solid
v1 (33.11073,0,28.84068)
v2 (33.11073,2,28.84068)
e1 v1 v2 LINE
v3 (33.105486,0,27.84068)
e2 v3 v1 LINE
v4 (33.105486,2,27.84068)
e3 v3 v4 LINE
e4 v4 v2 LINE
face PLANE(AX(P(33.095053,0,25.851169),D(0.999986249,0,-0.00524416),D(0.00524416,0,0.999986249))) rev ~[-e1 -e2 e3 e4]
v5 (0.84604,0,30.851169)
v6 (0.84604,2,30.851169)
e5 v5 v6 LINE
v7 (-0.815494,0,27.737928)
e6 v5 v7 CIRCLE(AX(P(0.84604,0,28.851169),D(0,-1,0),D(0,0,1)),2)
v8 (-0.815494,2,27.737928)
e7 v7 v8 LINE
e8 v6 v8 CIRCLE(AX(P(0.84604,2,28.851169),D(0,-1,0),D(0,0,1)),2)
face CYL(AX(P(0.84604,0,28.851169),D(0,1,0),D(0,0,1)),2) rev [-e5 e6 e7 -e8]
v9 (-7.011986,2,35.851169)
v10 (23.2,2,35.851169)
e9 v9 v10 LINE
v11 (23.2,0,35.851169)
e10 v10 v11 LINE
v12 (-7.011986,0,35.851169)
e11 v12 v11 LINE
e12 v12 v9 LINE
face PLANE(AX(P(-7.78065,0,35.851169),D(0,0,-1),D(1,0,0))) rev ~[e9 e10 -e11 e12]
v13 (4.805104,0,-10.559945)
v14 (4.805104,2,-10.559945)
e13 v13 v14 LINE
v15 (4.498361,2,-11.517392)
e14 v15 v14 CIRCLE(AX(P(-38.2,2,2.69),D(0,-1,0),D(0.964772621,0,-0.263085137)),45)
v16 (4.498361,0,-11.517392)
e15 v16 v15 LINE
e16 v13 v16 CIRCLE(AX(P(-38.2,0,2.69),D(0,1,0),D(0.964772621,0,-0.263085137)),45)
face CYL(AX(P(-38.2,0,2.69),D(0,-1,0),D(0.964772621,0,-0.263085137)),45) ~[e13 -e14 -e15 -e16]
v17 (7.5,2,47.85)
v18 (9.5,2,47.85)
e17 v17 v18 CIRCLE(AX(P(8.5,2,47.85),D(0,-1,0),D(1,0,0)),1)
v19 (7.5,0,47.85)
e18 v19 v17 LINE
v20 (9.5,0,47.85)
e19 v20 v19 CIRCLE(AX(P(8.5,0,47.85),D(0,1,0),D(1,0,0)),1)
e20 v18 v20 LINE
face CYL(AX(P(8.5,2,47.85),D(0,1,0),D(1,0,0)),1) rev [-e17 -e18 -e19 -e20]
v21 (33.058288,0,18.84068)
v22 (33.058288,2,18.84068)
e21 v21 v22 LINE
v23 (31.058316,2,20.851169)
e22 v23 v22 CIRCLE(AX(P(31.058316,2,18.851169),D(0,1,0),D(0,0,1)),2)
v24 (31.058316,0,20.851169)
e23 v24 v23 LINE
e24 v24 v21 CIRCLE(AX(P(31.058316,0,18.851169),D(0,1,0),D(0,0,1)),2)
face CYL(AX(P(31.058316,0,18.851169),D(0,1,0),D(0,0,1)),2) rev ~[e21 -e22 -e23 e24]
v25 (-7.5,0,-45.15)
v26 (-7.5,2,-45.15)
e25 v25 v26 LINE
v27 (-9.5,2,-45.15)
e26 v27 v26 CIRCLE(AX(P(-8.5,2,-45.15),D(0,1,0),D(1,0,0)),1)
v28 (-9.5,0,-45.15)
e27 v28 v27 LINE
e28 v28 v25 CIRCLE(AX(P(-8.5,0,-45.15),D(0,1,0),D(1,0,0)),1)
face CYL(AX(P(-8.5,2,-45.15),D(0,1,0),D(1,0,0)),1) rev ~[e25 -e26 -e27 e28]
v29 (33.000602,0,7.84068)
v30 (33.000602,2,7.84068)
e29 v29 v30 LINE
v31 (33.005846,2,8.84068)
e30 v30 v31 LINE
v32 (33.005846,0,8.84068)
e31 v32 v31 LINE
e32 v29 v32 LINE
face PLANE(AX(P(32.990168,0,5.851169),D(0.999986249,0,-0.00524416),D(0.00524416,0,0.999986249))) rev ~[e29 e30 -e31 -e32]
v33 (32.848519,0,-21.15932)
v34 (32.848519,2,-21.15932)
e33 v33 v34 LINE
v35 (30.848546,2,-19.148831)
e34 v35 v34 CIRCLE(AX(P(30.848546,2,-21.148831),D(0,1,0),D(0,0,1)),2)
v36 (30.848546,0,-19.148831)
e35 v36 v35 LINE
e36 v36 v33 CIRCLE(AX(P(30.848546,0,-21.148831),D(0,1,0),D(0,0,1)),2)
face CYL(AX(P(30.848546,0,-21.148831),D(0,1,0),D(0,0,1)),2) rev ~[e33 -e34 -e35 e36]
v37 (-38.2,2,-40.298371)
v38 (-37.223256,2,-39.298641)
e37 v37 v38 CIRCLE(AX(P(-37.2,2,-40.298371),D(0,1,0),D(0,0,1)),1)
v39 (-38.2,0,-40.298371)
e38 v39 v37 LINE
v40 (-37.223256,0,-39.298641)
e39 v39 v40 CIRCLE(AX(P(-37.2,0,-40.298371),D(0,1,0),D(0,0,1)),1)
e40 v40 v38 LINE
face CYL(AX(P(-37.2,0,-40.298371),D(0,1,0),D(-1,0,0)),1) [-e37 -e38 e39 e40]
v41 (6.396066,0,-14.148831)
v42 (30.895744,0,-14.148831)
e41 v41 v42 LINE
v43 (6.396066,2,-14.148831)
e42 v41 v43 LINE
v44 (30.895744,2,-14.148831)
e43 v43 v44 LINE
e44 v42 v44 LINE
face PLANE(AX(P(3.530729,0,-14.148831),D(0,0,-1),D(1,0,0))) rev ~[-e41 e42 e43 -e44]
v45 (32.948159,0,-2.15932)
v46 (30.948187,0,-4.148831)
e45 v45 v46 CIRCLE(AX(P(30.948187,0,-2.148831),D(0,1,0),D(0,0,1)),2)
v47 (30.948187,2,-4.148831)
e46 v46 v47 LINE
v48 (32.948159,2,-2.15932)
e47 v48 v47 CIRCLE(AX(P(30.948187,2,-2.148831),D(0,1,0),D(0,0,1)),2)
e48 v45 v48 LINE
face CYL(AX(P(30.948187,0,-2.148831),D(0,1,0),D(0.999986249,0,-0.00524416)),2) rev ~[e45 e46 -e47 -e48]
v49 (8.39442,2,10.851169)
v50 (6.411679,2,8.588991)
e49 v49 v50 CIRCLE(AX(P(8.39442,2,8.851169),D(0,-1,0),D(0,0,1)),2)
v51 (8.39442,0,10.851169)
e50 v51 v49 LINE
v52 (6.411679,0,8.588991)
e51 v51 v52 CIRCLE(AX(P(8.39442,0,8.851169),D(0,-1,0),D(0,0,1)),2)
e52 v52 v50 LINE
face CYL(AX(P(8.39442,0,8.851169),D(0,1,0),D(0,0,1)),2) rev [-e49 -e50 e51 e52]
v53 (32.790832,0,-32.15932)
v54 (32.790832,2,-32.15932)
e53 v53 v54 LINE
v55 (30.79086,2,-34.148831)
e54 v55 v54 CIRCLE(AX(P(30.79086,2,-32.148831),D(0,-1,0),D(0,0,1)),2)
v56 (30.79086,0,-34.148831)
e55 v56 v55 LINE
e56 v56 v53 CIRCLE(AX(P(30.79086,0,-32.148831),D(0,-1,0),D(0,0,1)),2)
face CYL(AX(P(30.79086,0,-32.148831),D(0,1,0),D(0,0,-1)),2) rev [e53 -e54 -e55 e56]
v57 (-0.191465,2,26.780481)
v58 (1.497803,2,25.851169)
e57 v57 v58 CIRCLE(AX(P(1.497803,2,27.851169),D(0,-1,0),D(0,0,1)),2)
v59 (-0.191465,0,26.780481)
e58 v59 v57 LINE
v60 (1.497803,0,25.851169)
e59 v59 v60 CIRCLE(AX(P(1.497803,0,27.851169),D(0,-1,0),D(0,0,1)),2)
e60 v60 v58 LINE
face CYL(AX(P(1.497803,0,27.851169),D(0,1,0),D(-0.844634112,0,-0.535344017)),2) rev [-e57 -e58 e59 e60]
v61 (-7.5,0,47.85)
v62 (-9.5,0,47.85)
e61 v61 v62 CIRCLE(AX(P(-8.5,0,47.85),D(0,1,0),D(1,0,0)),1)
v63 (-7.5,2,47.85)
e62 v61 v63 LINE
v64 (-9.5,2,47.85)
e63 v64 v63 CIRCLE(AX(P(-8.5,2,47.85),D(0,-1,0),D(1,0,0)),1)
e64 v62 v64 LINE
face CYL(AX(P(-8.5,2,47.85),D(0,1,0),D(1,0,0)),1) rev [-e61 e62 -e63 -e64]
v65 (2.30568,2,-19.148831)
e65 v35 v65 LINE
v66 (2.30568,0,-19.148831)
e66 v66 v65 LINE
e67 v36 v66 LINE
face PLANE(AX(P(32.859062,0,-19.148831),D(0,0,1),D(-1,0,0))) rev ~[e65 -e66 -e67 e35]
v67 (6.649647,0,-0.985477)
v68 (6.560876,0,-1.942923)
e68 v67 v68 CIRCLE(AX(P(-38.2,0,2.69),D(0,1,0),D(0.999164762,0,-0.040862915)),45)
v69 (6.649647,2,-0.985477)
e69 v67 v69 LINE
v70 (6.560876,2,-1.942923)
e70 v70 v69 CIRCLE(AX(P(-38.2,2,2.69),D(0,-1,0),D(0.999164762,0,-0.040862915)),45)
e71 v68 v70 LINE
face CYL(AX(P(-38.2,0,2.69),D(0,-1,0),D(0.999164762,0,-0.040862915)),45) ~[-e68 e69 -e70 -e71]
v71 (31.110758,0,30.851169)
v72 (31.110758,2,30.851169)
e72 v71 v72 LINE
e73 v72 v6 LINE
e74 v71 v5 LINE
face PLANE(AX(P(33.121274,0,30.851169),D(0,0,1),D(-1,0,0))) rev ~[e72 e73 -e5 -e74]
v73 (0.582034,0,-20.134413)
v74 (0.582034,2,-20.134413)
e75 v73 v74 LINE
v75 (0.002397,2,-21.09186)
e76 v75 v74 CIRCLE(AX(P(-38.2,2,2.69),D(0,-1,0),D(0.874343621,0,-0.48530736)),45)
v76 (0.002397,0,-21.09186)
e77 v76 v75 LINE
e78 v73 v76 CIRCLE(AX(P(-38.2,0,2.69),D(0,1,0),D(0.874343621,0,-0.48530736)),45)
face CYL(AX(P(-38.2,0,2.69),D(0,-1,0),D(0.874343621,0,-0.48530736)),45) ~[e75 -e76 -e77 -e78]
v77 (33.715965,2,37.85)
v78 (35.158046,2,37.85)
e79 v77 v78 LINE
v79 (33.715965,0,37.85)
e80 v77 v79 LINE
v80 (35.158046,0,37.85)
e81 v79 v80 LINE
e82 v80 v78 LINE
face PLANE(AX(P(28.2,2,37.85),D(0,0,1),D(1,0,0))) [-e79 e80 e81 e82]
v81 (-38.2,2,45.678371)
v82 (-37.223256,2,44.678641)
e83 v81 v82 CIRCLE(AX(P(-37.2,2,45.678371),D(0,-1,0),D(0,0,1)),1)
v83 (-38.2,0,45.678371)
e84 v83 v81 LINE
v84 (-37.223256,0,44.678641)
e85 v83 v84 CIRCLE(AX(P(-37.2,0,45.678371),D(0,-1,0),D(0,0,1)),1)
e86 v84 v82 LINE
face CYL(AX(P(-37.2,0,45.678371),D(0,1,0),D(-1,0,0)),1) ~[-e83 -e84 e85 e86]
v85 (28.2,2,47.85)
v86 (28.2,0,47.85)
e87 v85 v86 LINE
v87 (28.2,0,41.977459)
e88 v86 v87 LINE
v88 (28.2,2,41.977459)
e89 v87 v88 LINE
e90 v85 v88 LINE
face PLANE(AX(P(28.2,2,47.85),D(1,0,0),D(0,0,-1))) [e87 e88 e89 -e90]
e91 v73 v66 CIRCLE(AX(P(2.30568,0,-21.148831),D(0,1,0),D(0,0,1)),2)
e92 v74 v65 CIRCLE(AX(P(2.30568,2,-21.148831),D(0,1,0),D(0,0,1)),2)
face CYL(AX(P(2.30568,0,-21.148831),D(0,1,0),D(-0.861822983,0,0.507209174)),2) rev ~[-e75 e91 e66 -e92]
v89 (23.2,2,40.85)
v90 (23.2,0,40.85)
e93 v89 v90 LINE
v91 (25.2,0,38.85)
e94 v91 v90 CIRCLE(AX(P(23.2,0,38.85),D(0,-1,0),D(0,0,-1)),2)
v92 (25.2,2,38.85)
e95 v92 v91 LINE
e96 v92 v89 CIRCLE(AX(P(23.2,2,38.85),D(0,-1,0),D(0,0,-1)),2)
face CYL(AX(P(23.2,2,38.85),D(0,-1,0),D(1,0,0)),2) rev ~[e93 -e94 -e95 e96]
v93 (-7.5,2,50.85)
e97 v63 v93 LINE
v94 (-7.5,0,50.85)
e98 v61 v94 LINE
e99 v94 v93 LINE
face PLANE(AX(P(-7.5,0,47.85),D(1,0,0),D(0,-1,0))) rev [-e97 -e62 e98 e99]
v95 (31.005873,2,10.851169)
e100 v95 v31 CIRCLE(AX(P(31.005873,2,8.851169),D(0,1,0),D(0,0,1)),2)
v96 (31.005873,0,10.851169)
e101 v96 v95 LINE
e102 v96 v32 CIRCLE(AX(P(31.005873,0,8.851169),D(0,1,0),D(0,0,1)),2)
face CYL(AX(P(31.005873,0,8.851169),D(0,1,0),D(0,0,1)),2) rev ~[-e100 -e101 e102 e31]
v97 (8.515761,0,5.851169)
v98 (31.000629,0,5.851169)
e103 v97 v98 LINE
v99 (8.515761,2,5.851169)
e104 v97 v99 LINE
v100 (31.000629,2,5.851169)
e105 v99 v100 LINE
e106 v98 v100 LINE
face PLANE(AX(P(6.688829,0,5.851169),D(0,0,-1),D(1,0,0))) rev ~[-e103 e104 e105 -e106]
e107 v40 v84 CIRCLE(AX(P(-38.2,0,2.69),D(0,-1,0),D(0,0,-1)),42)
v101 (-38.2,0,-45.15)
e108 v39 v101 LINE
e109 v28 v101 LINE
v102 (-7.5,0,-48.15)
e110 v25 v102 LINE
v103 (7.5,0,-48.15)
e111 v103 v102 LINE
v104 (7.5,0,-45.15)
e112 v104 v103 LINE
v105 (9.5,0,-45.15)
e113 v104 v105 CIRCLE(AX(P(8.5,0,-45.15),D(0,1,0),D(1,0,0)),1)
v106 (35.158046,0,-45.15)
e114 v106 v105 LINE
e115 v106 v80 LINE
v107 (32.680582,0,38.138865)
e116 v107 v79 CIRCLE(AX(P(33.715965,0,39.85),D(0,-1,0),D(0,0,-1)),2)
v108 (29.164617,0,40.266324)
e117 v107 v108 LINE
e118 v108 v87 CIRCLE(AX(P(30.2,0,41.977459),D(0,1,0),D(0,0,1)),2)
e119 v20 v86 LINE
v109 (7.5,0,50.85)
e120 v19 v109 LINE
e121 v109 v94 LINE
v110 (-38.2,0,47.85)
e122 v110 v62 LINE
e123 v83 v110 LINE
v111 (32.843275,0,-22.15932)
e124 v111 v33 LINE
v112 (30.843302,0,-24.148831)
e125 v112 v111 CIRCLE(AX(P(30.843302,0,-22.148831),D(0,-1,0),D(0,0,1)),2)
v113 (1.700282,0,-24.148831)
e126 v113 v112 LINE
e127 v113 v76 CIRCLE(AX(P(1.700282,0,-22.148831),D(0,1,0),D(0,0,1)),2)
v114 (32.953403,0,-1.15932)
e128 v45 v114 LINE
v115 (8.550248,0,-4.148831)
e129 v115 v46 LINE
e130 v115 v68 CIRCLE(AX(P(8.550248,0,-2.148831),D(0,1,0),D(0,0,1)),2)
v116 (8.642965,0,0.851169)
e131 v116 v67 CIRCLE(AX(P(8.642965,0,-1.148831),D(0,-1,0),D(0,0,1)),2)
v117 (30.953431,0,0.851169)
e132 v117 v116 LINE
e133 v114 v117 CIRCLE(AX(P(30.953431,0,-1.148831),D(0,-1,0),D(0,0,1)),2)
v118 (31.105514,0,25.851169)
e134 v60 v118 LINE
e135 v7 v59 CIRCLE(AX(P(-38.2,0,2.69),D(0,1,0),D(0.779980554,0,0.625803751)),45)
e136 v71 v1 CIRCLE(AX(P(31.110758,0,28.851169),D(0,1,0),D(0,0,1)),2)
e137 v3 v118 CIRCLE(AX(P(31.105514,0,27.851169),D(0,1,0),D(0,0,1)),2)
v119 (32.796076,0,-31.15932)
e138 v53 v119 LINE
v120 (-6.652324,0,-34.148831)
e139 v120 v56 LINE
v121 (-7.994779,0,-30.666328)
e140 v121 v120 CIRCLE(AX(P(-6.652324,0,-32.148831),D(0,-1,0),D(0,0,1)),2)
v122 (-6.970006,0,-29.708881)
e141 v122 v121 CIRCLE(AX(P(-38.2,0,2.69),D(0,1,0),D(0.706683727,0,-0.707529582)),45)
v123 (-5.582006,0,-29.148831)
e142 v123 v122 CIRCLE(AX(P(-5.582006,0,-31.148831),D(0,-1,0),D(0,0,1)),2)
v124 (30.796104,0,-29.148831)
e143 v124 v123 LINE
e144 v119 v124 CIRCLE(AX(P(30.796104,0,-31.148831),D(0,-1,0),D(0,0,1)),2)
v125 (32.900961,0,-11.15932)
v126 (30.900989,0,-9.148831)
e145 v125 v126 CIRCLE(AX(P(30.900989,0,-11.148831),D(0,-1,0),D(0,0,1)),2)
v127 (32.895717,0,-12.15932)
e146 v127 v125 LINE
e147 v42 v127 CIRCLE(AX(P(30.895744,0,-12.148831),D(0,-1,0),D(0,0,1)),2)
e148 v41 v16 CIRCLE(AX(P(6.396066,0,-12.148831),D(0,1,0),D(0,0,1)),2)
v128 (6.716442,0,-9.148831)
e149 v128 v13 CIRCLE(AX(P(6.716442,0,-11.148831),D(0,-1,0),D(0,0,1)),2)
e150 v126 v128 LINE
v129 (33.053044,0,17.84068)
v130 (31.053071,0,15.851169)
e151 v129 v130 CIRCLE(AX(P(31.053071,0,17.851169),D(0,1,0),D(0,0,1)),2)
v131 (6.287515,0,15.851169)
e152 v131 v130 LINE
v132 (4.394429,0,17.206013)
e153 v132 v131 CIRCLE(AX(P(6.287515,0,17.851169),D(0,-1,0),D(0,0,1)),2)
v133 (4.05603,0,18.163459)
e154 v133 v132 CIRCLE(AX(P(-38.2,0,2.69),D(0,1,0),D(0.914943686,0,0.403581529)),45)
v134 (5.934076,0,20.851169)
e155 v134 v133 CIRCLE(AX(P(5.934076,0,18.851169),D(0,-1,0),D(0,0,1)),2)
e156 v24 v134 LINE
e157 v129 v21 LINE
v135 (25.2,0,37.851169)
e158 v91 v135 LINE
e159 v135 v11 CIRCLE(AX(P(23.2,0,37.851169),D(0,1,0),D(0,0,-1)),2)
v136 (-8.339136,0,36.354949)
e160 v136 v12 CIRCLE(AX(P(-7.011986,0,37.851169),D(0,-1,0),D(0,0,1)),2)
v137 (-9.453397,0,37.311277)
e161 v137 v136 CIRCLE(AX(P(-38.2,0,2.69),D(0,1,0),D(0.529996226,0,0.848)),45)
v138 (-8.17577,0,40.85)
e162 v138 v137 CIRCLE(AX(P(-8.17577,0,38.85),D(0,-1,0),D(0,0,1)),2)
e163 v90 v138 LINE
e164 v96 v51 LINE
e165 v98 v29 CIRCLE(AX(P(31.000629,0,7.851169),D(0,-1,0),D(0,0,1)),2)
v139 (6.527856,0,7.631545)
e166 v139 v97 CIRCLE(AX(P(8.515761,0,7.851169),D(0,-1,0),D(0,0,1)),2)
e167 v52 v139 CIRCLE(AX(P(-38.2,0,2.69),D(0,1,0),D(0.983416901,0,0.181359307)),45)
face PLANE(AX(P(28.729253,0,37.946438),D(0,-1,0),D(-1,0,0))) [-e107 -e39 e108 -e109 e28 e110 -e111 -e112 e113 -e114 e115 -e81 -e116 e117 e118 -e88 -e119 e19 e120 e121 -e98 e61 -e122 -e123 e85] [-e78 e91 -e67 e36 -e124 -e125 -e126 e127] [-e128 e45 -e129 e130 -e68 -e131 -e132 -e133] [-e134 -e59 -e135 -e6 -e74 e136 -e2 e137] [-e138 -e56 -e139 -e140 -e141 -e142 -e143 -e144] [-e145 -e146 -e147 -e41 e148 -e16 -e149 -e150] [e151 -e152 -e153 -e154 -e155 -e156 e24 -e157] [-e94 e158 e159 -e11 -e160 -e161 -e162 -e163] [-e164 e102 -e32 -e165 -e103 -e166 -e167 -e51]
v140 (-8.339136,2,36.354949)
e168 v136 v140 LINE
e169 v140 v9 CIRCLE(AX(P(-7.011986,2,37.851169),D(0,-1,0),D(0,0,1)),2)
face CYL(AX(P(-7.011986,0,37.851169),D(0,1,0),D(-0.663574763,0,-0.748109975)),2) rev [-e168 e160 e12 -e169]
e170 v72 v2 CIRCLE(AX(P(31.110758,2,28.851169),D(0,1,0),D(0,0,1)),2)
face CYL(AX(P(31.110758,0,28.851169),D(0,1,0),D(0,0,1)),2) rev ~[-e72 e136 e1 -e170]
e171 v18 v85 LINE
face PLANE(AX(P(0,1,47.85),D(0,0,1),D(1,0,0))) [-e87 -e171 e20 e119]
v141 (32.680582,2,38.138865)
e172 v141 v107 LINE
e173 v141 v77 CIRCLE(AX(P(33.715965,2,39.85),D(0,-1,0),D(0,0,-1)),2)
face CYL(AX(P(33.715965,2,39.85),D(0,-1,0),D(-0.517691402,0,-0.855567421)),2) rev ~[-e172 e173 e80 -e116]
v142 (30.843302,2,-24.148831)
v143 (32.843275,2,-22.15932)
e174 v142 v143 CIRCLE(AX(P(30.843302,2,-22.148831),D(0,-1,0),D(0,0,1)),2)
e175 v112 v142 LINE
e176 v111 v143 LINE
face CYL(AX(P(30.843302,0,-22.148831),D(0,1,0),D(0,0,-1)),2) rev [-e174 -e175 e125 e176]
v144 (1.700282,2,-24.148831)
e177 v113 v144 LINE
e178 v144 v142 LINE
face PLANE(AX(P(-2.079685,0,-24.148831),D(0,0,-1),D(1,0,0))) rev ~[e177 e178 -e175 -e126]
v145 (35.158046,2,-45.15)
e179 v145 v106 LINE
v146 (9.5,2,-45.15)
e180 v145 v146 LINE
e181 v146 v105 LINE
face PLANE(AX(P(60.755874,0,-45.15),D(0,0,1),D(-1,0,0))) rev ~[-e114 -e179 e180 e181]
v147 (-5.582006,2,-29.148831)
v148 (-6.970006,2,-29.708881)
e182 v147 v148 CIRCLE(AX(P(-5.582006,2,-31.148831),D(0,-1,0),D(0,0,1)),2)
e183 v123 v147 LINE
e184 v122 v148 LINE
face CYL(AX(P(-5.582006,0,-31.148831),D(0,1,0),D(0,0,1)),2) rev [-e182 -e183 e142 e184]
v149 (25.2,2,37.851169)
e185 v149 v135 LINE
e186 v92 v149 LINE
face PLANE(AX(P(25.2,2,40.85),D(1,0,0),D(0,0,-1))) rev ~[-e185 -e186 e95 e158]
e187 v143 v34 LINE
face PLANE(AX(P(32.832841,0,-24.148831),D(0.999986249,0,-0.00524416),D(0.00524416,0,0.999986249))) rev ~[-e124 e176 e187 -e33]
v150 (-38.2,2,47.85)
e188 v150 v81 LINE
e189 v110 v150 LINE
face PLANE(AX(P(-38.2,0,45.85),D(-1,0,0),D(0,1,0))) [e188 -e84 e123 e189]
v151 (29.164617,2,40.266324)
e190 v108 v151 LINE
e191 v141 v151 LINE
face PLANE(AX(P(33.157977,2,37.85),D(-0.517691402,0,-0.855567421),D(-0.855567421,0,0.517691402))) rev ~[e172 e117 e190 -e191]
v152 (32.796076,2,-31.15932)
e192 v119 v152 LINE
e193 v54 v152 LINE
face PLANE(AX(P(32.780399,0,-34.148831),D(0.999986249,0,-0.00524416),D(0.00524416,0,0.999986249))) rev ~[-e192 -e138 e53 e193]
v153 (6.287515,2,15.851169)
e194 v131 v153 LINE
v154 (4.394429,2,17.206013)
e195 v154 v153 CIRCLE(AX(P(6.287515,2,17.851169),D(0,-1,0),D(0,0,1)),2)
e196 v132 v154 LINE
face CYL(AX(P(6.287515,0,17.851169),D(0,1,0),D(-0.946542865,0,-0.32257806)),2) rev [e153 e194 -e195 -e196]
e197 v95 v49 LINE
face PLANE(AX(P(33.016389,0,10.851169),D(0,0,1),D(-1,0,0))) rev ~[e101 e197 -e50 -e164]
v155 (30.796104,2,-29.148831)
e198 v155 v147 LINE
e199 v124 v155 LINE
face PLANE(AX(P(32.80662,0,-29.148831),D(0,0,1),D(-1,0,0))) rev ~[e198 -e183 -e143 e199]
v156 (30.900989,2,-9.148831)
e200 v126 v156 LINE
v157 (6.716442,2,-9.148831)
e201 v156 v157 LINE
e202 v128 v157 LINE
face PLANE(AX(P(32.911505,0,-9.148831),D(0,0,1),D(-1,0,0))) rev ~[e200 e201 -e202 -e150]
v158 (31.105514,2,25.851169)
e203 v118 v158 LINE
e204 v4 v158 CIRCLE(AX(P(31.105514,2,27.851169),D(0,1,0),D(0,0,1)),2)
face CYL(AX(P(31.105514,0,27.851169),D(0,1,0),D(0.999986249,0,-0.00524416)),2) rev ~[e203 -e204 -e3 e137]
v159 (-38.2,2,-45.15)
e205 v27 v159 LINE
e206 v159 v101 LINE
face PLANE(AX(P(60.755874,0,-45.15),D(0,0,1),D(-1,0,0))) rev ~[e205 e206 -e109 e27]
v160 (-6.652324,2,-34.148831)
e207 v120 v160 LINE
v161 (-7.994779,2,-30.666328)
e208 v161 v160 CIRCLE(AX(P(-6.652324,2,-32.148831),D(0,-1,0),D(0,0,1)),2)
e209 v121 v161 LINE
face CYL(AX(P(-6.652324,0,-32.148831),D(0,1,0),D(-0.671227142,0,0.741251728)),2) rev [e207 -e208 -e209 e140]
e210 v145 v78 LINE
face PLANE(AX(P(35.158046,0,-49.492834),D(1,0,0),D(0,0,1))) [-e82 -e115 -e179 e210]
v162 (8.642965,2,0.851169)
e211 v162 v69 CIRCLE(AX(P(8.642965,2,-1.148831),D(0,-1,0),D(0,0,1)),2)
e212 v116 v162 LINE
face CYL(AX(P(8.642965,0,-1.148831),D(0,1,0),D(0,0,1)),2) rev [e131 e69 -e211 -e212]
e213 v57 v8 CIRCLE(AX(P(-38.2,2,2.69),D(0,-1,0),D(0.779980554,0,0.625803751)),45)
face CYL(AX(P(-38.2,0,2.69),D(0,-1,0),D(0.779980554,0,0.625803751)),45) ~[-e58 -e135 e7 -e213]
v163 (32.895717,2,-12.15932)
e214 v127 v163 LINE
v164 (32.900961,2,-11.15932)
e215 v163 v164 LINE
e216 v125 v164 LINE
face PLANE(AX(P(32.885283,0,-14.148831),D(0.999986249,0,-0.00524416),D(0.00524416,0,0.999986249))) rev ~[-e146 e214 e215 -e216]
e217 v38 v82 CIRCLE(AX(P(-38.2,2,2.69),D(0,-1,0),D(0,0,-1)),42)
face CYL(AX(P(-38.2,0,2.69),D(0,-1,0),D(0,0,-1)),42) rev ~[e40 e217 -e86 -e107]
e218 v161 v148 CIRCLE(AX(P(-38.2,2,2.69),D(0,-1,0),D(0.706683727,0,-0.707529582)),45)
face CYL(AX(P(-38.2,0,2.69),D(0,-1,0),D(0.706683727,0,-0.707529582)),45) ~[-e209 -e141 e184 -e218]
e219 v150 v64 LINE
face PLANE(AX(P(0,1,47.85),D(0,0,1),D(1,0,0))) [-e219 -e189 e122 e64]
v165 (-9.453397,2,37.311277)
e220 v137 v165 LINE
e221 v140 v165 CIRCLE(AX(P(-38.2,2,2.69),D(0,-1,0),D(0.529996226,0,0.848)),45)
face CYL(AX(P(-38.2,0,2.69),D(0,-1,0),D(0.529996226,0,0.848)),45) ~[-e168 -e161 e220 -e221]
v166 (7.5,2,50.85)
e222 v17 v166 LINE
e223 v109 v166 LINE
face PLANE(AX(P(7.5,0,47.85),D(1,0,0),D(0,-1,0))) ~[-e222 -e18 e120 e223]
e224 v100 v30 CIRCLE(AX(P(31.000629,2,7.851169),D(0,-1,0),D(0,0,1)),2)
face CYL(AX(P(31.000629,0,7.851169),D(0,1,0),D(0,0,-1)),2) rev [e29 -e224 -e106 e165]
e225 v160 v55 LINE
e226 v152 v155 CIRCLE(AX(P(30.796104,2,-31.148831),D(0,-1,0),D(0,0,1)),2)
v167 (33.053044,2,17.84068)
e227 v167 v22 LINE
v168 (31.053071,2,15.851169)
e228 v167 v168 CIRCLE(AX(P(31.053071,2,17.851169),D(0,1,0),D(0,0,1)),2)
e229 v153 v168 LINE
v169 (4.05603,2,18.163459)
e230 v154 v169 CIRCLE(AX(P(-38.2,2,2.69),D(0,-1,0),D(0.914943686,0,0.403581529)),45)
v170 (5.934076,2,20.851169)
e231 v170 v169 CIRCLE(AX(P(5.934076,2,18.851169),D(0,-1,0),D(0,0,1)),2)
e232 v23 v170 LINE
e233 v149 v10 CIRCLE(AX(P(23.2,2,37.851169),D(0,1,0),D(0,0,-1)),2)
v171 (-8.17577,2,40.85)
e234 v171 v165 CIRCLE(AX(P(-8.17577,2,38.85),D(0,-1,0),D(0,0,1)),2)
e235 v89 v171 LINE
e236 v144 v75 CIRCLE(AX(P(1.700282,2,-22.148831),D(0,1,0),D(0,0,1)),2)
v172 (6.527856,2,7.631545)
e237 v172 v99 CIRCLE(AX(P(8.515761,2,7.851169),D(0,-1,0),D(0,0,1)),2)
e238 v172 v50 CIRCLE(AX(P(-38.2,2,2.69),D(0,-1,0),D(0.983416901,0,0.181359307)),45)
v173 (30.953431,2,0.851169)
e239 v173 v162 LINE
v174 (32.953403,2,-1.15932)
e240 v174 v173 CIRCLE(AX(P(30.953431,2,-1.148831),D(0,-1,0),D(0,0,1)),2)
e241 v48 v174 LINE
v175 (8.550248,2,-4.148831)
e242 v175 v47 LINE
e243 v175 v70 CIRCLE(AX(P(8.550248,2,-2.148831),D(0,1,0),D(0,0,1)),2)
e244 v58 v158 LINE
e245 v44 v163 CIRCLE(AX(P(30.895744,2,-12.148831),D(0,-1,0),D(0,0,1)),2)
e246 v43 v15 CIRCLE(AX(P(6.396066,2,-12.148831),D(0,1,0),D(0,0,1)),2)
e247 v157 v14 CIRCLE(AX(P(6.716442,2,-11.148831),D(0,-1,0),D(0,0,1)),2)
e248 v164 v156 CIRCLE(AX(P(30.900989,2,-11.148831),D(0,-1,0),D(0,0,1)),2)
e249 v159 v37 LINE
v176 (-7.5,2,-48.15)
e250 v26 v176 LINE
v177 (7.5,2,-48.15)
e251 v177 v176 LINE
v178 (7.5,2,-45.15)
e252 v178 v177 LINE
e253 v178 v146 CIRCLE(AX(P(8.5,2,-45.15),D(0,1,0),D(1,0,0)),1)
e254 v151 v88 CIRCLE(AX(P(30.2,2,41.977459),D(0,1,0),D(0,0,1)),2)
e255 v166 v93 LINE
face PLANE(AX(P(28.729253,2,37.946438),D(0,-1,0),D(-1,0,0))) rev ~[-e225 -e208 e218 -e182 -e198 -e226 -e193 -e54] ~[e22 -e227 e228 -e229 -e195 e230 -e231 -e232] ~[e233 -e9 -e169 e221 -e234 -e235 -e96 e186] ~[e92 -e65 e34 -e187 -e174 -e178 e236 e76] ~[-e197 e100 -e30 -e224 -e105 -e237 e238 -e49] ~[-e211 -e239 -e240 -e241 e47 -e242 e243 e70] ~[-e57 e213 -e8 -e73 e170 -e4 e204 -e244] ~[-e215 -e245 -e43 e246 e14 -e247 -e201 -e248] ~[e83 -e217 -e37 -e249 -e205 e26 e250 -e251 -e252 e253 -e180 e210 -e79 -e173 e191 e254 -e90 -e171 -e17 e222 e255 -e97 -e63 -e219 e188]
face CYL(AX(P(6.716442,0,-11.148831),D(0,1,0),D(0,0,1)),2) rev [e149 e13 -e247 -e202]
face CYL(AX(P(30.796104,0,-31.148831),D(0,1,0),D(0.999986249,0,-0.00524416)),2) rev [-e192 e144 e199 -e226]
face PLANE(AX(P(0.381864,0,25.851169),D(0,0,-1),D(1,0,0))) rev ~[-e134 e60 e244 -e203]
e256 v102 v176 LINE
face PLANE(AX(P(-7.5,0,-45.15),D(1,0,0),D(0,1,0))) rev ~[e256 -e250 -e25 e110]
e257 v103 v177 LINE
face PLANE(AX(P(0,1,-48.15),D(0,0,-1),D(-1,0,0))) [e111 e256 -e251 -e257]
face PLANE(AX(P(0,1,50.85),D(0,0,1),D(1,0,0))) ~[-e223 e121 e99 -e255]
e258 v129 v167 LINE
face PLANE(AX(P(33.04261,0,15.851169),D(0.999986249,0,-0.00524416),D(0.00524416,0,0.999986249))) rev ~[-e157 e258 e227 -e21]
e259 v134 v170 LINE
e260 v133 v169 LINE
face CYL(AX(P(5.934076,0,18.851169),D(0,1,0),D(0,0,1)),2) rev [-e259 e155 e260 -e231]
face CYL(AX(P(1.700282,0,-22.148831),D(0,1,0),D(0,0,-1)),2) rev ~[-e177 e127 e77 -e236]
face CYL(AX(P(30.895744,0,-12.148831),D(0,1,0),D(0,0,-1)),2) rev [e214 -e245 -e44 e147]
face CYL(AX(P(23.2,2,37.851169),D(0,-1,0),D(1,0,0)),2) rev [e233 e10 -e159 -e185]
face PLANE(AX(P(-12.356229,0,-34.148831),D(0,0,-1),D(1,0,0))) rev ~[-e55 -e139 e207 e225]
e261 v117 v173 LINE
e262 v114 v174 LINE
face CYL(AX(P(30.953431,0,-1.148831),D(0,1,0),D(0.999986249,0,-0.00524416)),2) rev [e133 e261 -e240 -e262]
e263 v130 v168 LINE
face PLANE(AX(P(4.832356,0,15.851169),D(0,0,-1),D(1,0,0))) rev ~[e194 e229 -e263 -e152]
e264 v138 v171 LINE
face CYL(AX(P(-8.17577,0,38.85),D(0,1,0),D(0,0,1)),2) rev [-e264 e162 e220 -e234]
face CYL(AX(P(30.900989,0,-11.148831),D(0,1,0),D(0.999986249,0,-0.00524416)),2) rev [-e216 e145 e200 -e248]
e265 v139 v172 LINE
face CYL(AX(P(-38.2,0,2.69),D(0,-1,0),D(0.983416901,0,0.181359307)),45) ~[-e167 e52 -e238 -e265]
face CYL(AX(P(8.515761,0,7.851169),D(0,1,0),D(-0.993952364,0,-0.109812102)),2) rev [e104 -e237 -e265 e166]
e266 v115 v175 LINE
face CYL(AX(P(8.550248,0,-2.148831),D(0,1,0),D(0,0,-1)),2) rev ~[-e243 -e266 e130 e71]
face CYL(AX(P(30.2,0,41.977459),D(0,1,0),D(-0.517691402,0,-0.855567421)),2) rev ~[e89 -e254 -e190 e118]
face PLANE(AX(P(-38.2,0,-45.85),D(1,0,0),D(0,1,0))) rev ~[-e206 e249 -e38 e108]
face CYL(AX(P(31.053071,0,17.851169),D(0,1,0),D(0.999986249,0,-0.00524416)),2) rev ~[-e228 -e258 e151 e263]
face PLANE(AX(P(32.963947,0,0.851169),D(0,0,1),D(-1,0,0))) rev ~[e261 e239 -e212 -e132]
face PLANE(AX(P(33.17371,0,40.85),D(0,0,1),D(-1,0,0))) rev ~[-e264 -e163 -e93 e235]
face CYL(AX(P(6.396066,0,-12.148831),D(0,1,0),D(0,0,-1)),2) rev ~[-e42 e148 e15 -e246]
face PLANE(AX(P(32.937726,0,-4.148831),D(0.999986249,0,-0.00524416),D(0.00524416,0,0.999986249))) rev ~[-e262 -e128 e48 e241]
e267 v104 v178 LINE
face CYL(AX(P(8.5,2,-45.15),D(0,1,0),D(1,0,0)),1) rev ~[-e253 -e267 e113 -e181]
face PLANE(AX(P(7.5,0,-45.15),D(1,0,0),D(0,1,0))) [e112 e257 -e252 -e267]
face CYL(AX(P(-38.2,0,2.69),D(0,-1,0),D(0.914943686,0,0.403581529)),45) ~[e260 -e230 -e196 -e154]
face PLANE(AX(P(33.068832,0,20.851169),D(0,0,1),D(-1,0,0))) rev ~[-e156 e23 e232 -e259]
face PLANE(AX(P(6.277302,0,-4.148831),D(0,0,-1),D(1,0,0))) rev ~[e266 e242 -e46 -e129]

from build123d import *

# Parameters (mm, degrees)
EXTRUDE_1_DEPTH          = 2
SKETCH_3_W               = 76.4
SKETCH_3_H               = 2
EXTRUDE_2_DEPTH          = 7
CUT_EXTRUDE_1_DEPTH      = 10
EXTRUDE_4_DEPTH          = 2
PATTERN_LINEAR_2_COUNT   = 2
PATTERN_LINEAR_2_PITCH   = 32
FILLET_3_R               = 0.5
CUT_EXTRUDE_2_DEPTH      = 10
EXTRUDE_5_DEPTH          = 2
CUT_EXTRUDE_3_DEPTH      = 10
CUT_EXTRUDE_4_DEPTH      = 10
FILLET_5_R               = 2
EXTRUDE_9_DEPTH          = 2
FILLET_6_R               = 2
FILLET_7_R               = 1
SKETCH_18_W              = 76.4
SKETCH_18_H              = 2
EXTRUDE_6_DEPTH          = 2
SKETCH_19_W              = 10
SKETCH_19_H              = 10
CUT_EXTRUDE_5_DEPTH      = 3
EXTRUDE_8_DEPTH          = 2
FILLET_8_R               = 2
FILLET_9_R               = 2
SKETCH_21_W              = 3
SKETCH_21_H              = 87.342834434
CUT_EXTRUDE_6_DEPTH      = 3
CUT_EXTRUDE_7_DEPTH      = 1
CUT_EXTRUDE_7_DEPTH_BACK = 3
SKETCH_24_W              = 15
SKETCH_24_H              = 2
EXTRUDE_10_DEPTH         = 3
SKETCH_25_R              = 1
CUT_EXTRUDE_8_DEPTH      = 3


with BuildPart() as part:
    # 草图1 → 凸台-拉伸1 (new body)
    with BuildSketch(Plane(origin=(0, 0, 0), x_dir=(1, 0, 0), z_dir=(0, 1, 0))):
        with BuildLine():
            Line((-38.2, -44.69), (-38.2, -45.85))
            Line((-38.2, -45.85), (38.2, -45.85))
            Line((38.2, -45.85), (38.2, 45.85))
            Line((38.2, 45.85), (-38.2, 45.85))
            Line((-38.2, 45.85), (-38.2, 39.31))
            ThreePointArc((-38.2, 39.31), (3.8, -2.69), (-38.2, -44.69))
        make_face()
    extrude(amount=EXTRUDE_1_DEPTH)

    # 草图3 → 凸台-拉伸2 (add)
    with BuildSketch(Plane(origin=(0, 0, -45.85), x_dir=(-1, 0, 0), z_dir=(0, 0, -1))):
        with Locations((0, 1)):
            Rectangle(SKETCH_3_W, SKETCH_3_H)
    extrude(amount=EXTRUDE_2_DEPTH)

    # 草图5 → 切除-拉伸1 (cut)
    with BuildSketch(Plane(origin=(0, 2, 0), x_dir=(1, 0, 0), z_dir=(0, 1, 0))):
        Polygon((-38.2, 51.26), (38.2, 52.85), (-38.2, 52.85), align=None)
    extrude(amount=-CUT_EXTRUDE_1_DEPTH, mode=Mode.SUBTRACT)

    # 草图7 → 凸台-拉伸4 (add)
    with BuildSketch(Plane.XZ):
        Polygon((25.6, -52.587774869), (25.6, -54.754790576), (9.6, -54.754790576), (9.6, -52.254790576), align=None)
    extrude_4 = extrude(amount=-EXTRUDE_4_DEPTH)

    # 阵列(线性)2: 凸台-拉伸4 ×2
    with Locations(*[Vector(-0.999783511, 0, 0.020807013) * (i * PATTERN_LINEAR_2_PITCH) for i in range(1, PATTERN_LINEAR_2_COUNT)]):
        add(extrude_4)

    # 圆角3
    fillet_3_edges = [part.edges().sort_by_distance(p)[0] for p in [
        (25.6, 1, -54.754790576),
        (9.6, 1, -54.754790576),
        (-6.393072342, 1, -54.088966165),
        (-22.393072342, 1, -54.088966165),
    ]]
    fillet(fillet_3_edges, radius=FILLET_3_R)

    # 草图10 → 切除-拉伸2 (cut)
    with BuildSketch(Plane(origin=(0, 2, 0), x_dir=(1, 0, 0), z_dir=(0, 1, 0))):
        Polygon((-38.882265213, 53.905585721), (39.585789662, 55.538625083), (39.585789662, 48.538625083), (-38.2, 46.919784696), (-39.22769149, 52.889737929), align=None)
    extrude(amount=-CUT_EXTRUDE_2_DEPTH, mode=Mode.SUBTRACT)

    # 草图11 → 凸台-拉伸5 (add)
    with BuildSketch(Plane(origin=(0, 2, 0), x_dir=(1, 0, 0), z_dir=(0, 1, 0))):
        Polygon((-38.2, 46.919784696), (38.2, 49.509784696), (38.2, 48.509784696), align=None)
    extrude(amount=-EXTRUDE_5_DEPTH)

    # 草图13 → 切除-拉伸3 (cut)
    with BuildSketch(Plane.XZ):
        Polygon((38.2, -49.509784696), (37.7, -49.492834434), (38.2, 45.85), align=None)
    extrude(amount=-CUT_EXTRUDE_3_DEPTH, mode=Mode.SUBTRACT)

    # 草图16 → 切除-拉伸4 (cut)
    with BuildSketch(Plane.XZ):
        with BuildLine():
            ThreePointArc((-21.63159016, -39.14883119), (-26.948214114, -40.880601492), (-32.438562967, -41.939652064))
            Line((-32.438562967, -41.939652064), (32.727956442, -44.14883119))
            Line((32.727956442, -44.14883119), (32.754177605, -39.14883119))
            Line((32.754177605, -39.14883119), (-21.63159016, -39.14883119))
        make_face()
        with BuildLine():
            ThreePointArc((-6.399232266, -29.14883119), (-9.26951053, -31.777764346), (-12.35622867, -34.14883119))
            Line((-12.35622867, -34.14883119), (32.780398767, -34.14883119))
            Line((32.780398767, -34.14883119), (32.80661993, -29.14883119))
            Line((32.80661993, -29.14883119), (-6.399232266, -29.14883119))
        make_face()
        with BuildLine():
            ThreePointArc((1.145462918, -19.14883119), (-0.38438284, -21.702193399), (-2.079685213, -24.14883119))
            Line((-2.079685213, -24.14883119), (32.832841093, -24.14883119))
            Line((32.832841093, -24.14883119), (32.859062256, -19.14883119))
            Line((32.859062256, -19.14883119), (1.145462918, -19.14883119))
        make_face()
        with BuildLine():
            ThreePointArc((5.214767949, -9.14883119), (4.446089194, -11.673532869), (3.530729255, -14.14883119))
            Line((3.530729255, -14.14883119), (32.885283419, -14.14883119))
            Line((32.885283419, -14.14883119), (32.911504582, -9.14883119))
            Line((32.911504582, -9.14883119), (5.214767949, -9.14883119))
        make_face()
        with BuildLine():
            Line((32.937725745, -4.14883119), (32.963946908, 0.85116881))
            Line((32.963946908, 0.85116881), (6.762414302, 0.85116881))
            ThreePointArc((6.762414302, 0.85116881), (6.58968308, -1.65560578), (6.277301941, -4.14883119))
            Line((6.277301941, -4.14883119), (32.937725745, -4.14883119))
        make_face()
        with BuildLine():
            Line((33.016389234, 10.85116881), (6.053760559, 10.85116881))
            ThreePointArc((6.053760559, 10.85116881), (6.441352349, 8.360067057), (6.688829476, 5.85116881))
            Line((6.688829476, 5.85116881), (32.990168071, 5.85116881))
            Line((32.990168071, 5.85116881), (33.016389234, 10.85116881))
        make_face()
        with BuildLine():
            Line((33.06883156, 20.85116881), (2.97246589, 20.85116881))
            ThreePointArc((2.97246589, 20.85116881), (3.976569254, 18.378754125), (4.832355682, 15.85116881))
            Line((4.832355682, 15.85116881), (33.042610397, 15.85116881))
            Line((33.042610397, 15.85116881), (33.06883156, 20.85116881))
        make_face()
        with BuildLine():
            Line((33.121273886, 30.85116881), (-3.100875064, 30.85116881))
            ThreePointArc((-3.100875064, 30.85116881), (-1.274777634, 28.410185715), (0.381864384, 25.85116881))
            Line((0.381864384, 25.85116881), (33.095052723, 25.85116881))
            Line((33.095052723, 25.85116881), (33.121273886, 30.85116881))
        make_face()
        with BuildLine():
            Line((33.173710083, 40.85), (-14.350169812, 40.85))
            ThreePointArc((-14.350169812, 40.85), (-10.950539992, 38.501547429), (-7.780649528, 35.85116881))
            Line((-7.780649528, 35.85116881), (33.147495049, 35.85116881))
            Line((33.147495049, 35.85116881), (33.173710083, 40.85))
        make_face()
    extrude(amount=-CUT_EXTRUDE_4_DEPTH, mode=Mode.SUBTRACT)

    # 圆角5
    fillet_5_edges = [part.edges().sort_by_distance(p)[0] for p in [
        (-21.63159016, 1, -39.14883119),
        (32.754177605, 1, -39.14883119),
        (32.727956442, 1, -44.14883119),
        (-6.399232266, 1, -29.14883119),
        (32.80661993, 1, -29.14883119),
        (32.780398767, 1, -34.14883119),
        (-2.079685213, 1, -24.14883119),
        (3.530729255, 1, -14.14883119),
        (5.214767949, 1, -9.14883119),
        (32.911504582, 1, -9.14883119),
        (32.885283419, 1, -14.14883119),
        (32.937725745, 1, -4.14883119),
        (6.688829476, 1, 5.85116881),
        (33.016389234, 1, 10.85116881),
        (32.990168071, 1, 5.85116881),
        (4.832355682, 1, 15.85116881),
        (2.97246589, 1, 20.85116881),
        (0.381864384, 1, 25.85116881),
        (-3.100875064, 1, 30.85116881),
        (33.121273886, 1, 30.85116881),
        (-14.350169812, 1, 40.85),
        (33.173710083, 1, 40.85),
    ]]
    fillet(fillet_5_edges, radius=FILLET_5_R)

    # 草图23 → 凸台-拉伸9 (add)
    with BuildSketch(Plane.XZ):
        with BuildLine():
            Line((30.743661638, -39.14883119), (-21.254296123, -39.14883119))
            ThreePointArc((-21.254296123, -39.14883119), (-21.621062836, -39.182748237), (-21.975389905, -39.283349012))
            ThreePointArc((-21.975389905, -39.283349012), (-27.127035015, -40.926389654), (-32.438562967, -41.939652064))
            Line((-32.438562967, -41.939652064), (30.67101495, -44.079099797))
            ThreePointArc((30.67101495, -44.079099797), (32.125051399, -43.521859473), (32.738749569, -42.090736373))
            Line((32.738749569, -42.090736373), (32.743634136, -41.159319511))
            ThreePointArc((32.743634136, -41.159319511), (32.161578532, -39.738330684), (30.743661638, -39.14883119))
        make_face()
    extrude(amount=-EXTRUDE_9_DEPTH)

    # 圆角6
    fillet_6_edges = [part.edges().sort_by_distance(p)[0] for p in [
        (-12.35622867, 1, -34.14883119),
        (1.145462918, 1, -19.14883119),
        (32.859062256, 1, -19.14883119),
        (32.832841093, 1, -24.14883119),
        (6.277301941, 1, -4.14883119),
        (6.762414302, 1, 0.85116881),
        (32.963946908, 1, 0.85116881),
        (6.053760559, 1, 10.85116881),
        (33.06883156, 1, 20.85116881),
        (33.042610397, 1, 15.85116881),
        (33.095052723, 1, 25.85116881),
        (-7.780649528, 1, 35.85116881),
        (33.147495049, 1, 35.85116881),
    ]]
    fillet(fillet_6_edges, radius=FILLET_6_R)

    # 圆角7
    fillet_7_edges = [part.edges().sort_by_distance(p)[0] for p in [
        (-38.2, 1, 44.69),
        (-38.2, 1, -39.31),
        (-38.2, 1, -46.919784696),
    ]]
    fillet(fillet_7_edges, radius=FILLET_7_R)

    # 草图18 → 凸台-拉伸6 (add)
    with BuildSketch(Plane.XY.offset(45.85)):
        with Locations((0, 1)):
            Rectangle(SKETCH_18_W, SKETCH_18_H)
    extrude(amount=EXTRUDE_6_DEPTH)

    # 草图19 → 切除-拉伸5 (cut, through all)
    with BuildSketch(Plane(origin=(0, 2, 0), x_dir=(1, 0, 0), z_dir=(0, 1, 0))):
        with Locations((33.2, -42.85)):
            Rectangle(SKETCH_19_W, SKETCH_19_H)
    extrude(amount=-CUT_EXTRUDE_5_DEPTH, mode=Mode.SUBTRACT)

    # 草图20 → 凸台-拉伸8 (add)
    with BuildSketch(Plane(origin=(0, 2, 0), x_dir=(1, 0, 0), z_dir=(0, 1, 0))):
        Polygon((25.2, -35.85116881), (33.157977385, -35.85116881), (33.157977385, -37.85), (28.2, -40.85), (25.2, -40.85), align=None)
    extrude(amount=-EXTRUDE_8_DEPTH)

    # 圆角8
    fillet_8_edges = [part.edges().sort_by_distance(p)[0] for p in [
        (25.2, 1, 40.85),
        (25.2, 1, 35.85116881),
    ]]
    fillet(fillet_8_edges, radius=FILLET_8_R)

    # 圆角9
    fillet_9_edges = [part.edges().sort_by_distance(p)[0] for p in [
        (33.157977385, 1, 37.85),
        (28.2, 1, 40.85),
    ]]
    fillet(fillet_9_edges, radius=FILLET_9_R)

    # 草图21 → 切除-拉伸6 (cut, through all)
    with BuildSketch(Plane.XZ):
        with Locations((36.658046139, -5.821417217)):
            Rectangle(SKETCH_21_W, SKETCH_21_H)
    extrude(amount=-CUT_EXTRUDE_6_DEPTH, mode=Mode.SUBTRACT)

    # 草图22 → 切除-拉伸7 (cut, two sides)
    with BuildSketch(Plane.XZ) as cut_extrude_7_sk:
        Polygon((-290.579437235, -45.15), (-39.244125604, -45.15), (60.755874396, -45.15), (60.755874396, -51.15), (-39.244125604, -51.15), (-39.244125604, -47.15), (-39.244125604, 204.185311631), (314.77499341, -152.673510404), (63.439681778, -402.008822036), align=None)
    extrude(amount=CUT_EXTRUDE_7_DEPTH, mode=Mode.SUBTRACT)
    extrude(cut_extrude_7_sk.sketch, amount=-CUT_EXTRUDE_7_DEPTH_BACK, mode=Mode.SUBTRACT)

    # 草图24 → 凸台-拉伸10 (add)
    with BuildSketch(Plane(origin=(0, 0, -45.15), x_dir=(-1, 0, 0), z_dir=(0, 0, -1))):
        with Locations((0, 1)):
            Rectangle(SKETCH_24_W, SKETCH_24_H)
    extrude_10 = extrude(amount=EXTRUDE_10_DEPTH)

    # 草图25 → 切除-拉伸8 (cut, through all)
    with BuildSketch(Plane(origin=(0, 2, 0), x_dir=(1, 0, 0), z_dir=(0, 1, 0))):
        with Locations((-8.5, 45.15)):
            Circle(SKETCH_25_R)
        with Locations((8.5, 45.15)):
            Circle(SKETCH_25_R)
    cut_extrude_8 = extrude(amount=-CUT_EXTRUDE_8_DEPTH, mode=Mode.SUBTRACT)

    # 镜向1: 凸台-拉伸10, 切除-拉伸8 across plane
    add(extrude_10.mirror(Plane.XY.offset(1.35)))
    add(cut_extrude_8.mirror(Plane.XY.offset(1.35)), mode=Mode.SUBTRACT)


solid = part.part
